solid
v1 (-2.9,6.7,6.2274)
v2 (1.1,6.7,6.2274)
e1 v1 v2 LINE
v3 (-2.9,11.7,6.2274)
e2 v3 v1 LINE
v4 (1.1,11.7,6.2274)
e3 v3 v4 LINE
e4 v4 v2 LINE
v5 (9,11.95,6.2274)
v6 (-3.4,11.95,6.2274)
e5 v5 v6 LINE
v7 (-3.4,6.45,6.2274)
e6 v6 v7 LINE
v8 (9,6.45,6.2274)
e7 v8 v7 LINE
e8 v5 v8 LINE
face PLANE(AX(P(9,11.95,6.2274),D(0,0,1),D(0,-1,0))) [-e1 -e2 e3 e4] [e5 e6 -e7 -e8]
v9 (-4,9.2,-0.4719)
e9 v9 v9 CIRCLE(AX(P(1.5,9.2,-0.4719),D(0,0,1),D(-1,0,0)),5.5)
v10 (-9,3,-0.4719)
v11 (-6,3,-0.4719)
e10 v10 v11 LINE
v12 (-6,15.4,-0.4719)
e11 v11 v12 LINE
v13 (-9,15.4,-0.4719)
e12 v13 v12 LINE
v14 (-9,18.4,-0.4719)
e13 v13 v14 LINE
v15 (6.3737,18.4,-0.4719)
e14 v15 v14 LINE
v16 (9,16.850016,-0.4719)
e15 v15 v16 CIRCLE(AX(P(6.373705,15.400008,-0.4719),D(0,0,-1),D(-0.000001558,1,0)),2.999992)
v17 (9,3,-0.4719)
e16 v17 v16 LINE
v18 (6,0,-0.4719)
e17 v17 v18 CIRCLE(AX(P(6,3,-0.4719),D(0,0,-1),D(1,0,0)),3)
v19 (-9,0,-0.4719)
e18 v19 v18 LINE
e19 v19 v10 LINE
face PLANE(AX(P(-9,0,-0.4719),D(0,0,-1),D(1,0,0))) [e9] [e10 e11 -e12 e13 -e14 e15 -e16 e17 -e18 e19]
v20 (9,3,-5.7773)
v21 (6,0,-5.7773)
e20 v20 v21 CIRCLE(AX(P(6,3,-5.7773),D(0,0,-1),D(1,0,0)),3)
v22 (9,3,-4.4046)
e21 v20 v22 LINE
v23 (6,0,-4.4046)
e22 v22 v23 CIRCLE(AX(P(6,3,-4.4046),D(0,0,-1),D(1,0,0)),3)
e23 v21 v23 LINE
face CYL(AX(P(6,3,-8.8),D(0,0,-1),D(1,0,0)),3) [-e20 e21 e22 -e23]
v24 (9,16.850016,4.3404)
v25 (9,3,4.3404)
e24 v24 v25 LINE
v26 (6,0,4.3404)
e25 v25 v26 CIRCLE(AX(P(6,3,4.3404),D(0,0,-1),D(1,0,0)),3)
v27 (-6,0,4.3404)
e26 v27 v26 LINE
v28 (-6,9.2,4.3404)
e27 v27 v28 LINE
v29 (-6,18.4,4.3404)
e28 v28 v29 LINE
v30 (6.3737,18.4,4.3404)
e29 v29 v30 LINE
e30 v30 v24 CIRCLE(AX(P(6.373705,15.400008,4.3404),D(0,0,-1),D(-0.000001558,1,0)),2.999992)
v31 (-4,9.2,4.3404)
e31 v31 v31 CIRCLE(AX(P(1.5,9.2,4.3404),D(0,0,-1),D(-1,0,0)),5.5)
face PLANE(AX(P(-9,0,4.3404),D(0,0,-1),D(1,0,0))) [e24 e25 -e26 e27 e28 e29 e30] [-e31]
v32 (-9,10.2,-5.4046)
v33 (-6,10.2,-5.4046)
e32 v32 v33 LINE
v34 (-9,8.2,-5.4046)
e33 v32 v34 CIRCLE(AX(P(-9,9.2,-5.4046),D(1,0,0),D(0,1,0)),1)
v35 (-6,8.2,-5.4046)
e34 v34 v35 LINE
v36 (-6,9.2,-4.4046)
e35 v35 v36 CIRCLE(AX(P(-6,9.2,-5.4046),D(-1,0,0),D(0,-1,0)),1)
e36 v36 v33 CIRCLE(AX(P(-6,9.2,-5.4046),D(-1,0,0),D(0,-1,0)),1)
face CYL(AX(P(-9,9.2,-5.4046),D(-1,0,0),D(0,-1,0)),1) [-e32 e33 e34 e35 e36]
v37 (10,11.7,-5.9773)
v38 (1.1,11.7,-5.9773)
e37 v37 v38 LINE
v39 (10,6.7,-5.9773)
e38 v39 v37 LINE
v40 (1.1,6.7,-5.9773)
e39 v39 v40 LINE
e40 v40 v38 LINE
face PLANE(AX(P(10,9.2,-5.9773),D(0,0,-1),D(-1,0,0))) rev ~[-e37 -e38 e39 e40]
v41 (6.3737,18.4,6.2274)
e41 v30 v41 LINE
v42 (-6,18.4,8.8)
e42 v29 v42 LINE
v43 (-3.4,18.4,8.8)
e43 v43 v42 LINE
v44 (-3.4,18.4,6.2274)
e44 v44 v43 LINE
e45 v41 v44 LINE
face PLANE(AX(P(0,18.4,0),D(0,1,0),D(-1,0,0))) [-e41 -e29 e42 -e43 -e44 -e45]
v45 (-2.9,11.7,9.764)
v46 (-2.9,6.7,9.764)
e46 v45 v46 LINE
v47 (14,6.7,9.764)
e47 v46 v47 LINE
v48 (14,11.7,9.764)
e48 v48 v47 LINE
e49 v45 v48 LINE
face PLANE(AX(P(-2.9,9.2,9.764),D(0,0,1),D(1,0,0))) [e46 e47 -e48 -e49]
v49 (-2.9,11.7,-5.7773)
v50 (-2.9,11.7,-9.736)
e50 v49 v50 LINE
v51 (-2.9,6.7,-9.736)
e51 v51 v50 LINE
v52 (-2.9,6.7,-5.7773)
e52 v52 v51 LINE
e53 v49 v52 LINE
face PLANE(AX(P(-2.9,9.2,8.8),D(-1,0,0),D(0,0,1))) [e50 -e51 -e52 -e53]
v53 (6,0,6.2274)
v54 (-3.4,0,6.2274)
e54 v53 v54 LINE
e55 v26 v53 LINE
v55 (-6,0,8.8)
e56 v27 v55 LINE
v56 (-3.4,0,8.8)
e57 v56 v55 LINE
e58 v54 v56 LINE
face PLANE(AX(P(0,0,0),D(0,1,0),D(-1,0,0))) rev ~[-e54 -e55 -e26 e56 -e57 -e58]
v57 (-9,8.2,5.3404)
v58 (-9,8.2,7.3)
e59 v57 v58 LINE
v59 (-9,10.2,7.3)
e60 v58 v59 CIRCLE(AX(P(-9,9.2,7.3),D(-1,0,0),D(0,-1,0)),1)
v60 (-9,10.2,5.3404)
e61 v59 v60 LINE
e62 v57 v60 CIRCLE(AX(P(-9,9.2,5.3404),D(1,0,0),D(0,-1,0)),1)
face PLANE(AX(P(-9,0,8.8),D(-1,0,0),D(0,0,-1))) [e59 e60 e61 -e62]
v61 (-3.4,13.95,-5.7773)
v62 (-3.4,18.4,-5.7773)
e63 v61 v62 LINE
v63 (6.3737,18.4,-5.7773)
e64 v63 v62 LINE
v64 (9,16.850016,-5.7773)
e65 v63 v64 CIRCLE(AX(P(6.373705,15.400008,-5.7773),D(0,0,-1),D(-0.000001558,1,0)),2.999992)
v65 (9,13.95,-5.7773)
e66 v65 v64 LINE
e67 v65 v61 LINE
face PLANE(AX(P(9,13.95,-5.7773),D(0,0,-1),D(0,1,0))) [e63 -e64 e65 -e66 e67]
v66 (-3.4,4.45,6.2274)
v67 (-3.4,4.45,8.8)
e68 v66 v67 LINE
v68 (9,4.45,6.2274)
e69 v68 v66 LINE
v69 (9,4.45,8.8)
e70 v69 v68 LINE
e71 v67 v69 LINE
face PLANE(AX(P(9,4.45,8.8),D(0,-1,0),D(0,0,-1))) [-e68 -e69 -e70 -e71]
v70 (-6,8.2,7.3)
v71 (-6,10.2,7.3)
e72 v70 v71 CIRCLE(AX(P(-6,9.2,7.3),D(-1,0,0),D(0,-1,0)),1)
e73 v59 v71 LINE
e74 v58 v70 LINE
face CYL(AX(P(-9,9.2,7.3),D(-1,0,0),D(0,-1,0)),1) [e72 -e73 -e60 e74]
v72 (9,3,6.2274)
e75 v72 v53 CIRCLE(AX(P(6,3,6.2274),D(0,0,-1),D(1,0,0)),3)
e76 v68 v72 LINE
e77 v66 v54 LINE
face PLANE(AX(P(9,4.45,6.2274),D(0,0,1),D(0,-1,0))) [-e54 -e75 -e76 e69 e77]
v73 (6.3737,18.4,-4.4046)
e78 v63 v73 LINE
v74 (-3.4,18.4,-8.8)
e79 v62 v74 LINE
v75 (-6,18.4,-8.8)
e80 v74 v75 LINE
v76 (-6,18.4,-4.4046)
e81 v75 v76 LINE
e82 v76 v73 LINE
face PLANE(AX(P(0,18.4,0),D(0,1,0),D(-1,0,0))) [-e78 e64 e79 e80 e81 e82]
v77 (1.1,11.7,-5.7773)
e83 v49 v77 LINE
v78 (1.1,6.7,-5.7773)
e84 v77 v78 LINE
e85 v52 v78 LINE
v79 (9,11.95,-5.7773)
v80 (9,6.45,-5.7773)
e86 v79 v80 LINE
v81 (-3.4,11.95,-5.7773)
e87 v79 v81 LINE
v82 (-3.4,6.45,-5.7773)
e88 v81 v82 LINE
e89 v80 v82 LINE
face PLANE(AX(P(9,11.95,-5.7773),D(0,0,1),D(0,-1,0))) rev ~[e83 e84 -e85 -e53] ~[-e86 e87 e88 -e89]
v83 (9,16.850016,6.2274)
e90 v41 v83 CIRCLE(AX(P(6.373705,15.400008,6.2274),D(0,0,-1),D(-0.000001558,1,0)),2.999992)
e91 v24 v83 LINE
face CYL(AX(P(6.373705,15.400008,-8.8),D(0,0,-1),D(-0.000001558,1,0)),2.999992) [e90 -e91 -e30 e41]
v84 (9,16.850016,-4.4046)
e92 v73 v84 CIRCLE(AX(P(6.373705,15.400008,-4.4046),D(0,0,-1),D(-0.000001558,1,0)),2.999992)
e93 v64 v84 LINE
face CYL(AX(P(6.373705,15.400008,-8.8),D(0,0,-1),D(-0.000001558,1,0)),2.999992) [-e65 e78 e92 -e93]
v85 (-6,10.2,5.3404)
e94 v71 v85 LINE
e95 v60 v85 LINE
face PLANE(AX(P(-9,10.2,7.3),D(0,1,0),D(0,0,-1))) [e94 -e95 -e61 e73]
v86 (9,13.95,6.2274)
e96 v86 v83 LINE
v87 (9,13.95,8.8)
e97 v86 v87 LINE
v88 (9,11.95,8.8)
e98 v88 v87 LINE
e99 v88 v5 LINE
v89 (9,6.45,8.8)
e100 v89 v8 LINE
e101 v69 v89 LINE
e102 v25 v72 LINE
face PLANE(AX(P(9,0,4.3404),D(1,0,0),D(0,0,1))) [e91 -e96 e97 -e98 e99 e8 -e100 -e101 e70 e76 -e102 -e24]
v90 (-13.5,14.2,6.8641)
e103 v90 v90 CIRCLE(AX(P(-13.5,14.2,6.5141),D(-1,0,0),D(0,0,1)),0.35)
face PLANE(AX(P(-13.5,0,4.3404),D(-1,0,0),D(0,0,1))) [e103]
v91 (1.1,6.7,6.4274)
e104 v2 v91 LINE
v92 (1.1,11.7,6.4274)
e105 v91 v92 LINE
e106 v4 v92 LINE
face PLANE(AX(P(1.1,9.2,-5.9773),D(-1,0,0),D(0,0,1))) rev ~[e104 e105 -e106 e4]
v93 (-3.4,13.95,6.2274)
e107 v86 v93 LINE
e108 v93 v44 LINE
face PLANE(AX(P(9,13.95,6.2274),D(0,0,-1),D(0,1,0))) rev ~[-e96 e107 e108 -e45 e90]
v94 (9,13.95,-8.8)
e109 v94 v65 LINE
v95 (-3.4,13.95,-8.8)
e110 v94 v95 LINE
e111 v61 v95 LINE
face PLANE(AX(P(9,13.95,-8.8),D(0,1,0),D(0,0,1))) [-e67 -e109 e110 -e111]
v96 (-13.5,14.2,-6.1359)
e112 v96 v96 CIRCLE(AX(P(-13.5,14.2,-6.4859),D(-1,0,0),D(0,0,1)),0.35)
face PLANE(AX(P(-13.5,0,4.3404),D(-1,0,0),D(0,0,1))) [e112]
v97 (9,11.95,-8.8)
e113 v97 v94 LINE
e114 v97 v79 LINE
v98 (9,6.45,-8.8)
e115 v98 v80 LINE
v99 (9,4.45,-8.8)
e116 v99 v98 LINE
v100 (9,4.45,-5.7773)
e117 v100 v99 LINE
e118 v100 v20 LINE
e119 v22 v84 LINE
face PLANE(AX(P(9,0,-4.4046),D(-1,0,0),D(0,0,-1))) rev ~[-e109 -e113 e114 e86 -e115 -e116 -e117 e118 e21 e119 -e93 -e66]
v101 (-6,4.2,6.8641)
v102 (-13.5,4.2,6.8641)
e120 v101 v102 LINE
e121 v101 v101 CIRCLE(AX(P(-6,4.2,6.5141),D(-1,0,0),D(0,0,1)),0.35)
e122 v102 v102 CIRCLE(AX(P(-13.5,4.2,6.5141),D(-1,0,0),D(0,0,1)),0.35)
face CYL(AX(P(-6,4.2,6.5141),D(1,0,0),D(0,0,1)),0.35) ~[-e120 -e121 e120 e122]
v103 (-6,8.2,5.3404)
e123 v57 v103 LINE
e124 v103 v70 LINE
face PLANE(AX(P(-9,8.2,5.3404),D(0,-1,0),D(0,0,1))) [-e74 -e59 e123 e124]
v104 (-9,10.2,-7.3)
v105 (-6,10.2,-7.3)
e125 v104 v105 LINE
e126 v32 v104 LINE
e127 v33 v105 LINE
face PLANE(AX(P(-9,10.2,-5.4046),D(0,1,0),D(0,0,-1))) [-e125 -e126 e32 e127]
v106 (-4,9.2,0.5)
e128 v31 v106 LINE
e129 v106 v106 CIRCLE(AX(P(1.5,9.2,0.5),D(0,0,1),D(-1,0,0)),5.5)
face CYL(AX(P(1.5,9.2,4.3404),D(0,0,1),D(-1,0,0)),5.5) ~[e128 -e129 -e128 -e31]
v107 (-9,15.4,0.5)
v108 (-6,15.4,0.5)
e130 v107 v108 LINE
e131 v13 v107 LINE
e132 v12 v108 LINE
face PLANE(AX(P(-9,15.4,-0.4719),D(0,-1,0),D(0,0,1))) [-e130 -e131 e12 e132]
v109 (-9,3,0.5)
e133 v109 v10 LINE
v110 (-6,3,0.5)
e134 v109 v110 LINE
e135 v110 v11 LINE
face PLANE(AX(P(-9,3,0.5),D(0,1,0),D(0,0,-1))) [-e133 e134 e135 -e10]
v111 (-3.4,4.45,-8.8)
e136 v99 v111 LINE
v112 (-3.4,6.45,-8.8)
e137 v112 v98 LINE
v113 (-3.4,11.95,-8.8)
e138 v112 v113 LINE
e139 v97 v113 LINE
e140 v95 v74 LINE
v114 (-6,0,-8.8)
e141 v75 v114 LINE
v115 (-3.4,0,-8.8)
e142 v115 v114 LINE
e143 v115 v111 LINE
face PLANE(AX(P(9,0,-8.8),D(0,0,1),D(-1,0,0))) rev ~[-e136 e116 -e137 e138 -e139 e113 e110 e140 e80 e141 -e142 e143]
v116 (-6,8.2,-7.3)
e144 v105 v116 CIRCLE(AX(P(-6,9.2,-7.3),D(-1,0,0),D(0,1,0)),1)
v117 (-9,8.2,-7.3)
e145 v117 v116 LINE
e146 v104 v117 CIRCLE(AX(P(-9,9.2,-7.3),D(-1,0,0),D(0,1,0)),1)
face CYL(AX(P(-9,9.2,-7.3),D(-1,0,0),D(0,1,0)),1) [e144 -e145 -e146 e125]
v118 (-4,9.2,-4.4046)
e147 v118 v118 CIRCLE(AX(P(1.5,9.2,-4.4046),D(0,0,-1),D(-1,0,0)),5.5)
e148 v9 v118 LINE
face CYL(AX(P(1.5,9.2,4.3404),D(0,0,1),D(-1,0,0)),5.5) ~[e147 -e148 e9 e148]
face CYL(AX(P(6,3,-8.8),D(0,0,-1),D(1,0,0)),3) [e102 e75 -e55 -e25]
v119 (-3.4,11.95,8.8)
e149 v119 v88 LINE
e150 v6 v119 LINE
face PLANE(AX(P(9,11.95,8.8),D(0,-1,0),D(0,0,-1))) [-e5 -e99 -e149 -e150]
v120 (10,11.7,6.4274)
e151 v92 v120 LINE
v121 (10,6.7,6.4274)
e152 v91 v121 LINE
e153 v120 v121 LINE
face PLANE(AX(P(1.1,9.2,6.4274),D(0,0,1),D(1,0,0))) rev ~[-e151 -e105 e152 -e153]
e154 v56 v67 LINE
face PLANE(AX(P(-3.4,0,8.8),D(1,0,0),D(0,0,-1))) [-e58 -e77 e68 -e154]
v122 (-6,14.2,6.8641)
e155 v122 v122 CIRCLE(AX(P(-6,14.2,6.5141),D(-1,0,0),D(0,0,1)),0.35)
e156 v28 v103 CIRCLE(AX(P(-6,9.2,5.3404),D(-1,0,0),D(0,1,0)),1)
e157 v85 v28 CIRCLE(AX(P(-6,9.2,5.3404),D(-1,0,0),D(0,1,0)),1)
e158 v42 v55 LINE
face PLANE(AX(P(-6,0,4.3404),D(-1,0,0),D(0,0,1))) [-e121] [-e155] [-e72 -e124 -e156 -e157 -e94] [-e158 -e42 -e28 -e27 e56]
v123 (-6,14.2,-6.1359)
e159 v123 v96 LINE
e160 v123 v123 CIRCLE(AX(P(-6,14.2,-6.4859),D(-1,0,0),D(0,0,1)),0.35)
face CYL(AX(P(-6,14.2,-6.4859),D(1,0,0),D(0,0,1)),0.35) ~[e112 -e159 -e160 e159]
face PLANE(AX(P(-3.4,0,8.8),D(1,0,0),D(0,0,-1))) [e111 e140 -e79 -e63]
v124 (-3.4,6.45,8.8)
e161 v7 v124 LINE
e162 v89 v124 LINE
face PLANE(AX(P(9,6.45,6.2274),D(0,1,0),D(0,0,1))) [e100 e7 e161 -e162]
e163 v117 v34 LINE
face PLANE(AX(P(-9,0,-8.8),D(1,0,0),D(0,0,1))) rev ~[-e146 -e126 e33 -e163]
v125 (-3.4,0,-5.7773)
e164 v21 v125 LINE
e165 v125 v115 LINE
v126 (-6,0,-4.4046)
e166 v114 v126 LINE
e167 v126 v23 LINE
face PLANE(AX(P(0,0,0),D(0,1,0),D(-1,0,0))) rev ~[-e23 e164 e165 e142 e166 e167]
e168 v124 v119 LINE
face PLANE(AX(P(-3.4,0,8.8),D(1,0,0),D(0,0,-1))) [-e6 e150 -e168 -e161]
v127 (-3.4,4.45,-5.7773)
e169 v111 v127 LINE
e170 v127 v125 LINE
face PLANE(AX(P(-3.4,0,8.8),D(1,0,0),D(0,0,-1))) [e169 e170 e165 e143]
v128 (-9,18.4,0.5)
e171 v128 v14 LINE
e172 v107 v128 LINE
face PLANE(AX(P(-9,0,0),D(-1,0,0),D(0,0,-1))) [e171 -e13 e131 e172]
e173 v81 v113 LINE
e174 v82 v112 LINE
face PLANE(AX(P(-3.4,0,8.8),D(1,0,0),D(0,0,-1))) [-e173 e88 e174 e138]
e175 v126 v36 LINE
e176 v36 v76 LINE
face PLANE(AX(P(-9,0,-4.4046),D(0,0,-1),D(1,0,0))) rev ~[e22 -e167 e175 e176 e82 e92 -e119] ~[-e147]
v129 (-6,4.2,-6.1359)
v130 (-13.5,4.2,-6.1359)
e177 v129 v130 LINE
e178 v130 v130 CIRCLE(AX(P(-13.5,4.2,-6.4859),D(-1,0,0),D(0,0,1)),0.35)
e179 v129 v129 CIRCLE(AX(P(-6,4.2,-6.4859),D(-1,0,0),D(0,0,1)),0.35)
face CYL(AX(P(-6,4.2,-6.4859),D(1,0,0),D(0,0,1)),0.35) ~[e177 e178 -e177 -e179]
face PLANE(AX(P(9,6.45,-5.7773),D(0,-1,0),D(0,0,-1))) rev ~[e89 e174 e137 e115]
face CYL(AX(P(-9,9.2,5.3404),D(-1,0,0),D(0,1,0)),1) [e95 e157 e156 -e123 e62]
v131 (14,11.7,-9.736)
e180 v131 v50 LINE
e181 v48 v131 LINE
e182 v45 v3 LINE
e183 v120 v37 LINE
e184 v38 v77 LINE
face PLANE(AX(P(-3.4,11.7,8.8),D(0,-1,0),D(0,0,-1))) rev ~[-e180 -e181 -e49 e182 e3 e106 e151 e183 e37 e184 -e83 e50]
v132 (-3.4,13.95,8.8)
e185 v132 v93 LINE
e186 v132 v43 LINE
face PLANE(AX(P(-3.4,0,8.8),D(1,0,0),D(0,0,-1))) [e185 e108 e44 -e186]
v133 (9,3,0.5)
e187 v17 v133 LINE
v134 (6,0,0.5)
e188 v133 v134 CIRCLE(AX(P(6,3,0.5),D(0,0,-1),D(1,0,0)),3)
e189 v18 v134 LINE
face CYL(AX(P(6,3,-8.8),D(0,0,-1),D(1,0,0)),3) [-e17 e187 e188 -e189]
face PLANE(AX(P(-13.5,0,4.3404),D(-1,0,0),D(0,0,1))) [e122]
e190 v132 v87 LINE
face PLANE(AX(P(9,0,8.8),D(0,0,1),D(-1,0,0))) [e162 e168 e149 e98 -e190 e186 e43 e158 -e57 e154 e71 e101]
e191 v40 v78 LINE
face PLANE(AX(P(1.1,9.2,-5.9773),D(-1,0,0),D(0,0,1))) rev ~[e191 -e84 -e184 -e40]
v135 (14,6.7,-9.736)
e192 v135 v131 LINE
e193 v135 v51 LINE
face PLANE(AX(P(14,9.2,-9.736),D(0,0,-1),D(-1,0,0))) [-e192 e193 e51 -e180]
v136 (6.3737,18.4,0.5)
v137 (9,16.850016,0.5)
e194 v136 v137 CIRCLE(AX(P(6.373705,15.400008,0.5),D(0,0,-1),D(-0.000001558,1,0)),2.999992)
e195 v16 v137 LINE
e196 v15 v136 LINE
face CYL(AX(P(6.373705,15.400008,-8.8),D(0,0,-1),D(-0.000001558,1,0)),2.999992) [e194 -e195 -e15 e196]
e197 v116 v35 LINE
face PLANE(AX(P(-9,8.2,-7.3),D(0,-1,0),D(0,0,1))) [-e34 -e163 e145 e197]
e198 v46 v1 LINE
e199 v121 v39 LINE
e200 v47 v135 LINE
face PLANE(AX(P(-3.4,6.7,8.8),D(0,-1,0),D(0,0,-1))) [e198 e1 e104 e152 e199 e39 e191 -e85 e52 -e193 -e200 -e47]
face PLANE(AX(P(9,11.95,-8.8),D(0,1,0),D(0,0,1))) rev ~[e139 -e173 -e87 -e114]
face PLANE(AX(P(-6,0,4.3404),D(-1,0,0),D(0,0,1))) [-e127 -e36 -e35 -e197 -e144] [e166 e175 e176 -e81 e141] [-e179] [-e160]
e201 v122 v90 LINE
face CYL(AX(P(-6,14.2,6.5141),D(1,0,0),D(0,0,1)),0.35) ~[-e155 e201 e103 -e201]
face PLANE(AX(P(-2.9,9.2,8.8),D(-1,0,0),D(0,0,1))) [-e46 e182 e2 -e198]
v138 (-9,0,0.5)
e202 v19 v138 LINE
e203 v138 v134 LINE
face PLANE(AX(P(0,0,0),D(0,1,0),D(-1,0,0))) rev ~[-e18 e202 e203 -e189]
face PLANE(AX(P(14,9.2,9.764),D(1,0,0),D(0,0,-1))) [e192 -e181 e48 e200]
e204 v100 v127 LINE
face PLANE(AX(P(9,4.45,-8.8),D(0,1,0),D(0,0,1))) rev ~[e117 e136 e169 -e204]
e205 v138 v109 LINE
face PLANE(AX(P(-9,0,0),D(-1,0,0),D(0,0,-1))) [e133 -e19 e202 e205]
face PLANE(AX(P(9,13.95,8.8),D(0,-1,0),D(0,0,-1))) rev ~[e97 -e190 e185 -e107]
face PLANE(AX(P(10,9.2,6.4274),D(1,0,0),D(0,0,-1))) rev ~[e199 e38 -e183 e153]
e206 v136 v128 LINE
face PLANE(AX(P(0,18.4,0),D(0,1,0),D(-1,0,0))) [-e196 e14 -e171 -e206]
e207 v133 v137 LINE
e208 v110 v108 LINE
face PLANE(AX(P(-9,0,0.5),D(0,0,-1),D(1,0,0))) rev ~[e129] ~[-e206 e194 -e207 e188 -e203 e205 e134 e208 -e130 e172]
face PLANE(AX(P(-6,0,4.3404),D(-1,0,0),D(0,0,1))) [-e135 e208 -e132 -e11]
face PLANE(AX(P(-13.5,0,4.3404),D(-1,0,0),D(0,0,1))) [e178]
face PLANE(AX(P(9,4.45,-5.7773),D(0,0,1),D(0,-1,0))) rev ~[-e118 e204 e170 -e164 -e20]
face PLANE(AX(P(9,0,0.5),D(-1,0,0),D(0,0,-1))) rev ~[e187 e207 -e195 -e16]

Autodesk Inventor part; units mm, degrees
ref_plane "YZ Plane" through (0, 0, 0) normal (1, 0, 0) x (0, 1, 0)
ref_plane "XZ Plane" through (0, 0, 0) normal (0, 1, 0) x (-1, 0, 0)
ref_plane "XY Plane" through (0, 0, 0) normal (0, 0, 1) x (1, 0, 0)
sketch "Эскиз1" plane through (0, 0, 0) normal (0, 1, 0) x (-1, 0, 0)
  line L0 (9, 8.8) -> (9, -8.8) construction
  line L1 (-9, -8.8) -> (-9, 8.8) construction
  line L2 (-9, 8.8) -> (9, -8.8) construction
  line L3 (9, 8.8) -> (-9, -8.8) construction
  line L4 (9, 0) -> (9, 0.5)
  line L5 (9, 0.5) -> (-9, 0.5)
  line L6 (9, 0) -> (9, -0.4719)
  line L7 (9, -0.4719) -> (-9, -0.4719)
  line L8 (-9, 0.5) -> (-9, -0.4719)
  line L9 (9, 0) -> (9, 4.3404) construction
  line L10 (9, 0) -> (9, -4.4046) construction
  line L11 (9, 4.3404) -> (-9, 4.3404)
  line L12 (-9, 4.3404) -> (-9, 8.8)
  line L13 (-9, 8.8) -> (9, 8.8)
  line L14 (9, 8.8) -> (9, 4.3404)
  line L15 (9, -4.4046) -> (-9, -4.4046)
  line L16 (-9, -4.4046) -> (-9, -8.8)
  line L17 (-9, -8.8) -> (9, -8.8)
  line L18 (9, -8.8) -> (9, -4.4046)
  point P0 (0, 0)
  dimension "d0" = 18
  dimension "d1" = 17.6
  dimension "d2" = 0.5
extrude "Выдавливание1" add sketch "Эскиз1" along normal blind 18.4
sketch "Эскиз4" plane through (9, 0, 8.8) normal (1, 0, 0) x (0, 0, -1)
  line L0 (13.2046, 0) -> (17.6, 0) projected
  line L1 (14.5773, 0) -> (21.0298, 0)
  line L2 (21.0298, 0) -> (21.0298, 4.45)
  line L3 (21.0298, 4.45) -> (14.5773, 4.45)
  line L4 (14.5773, 4.45) -> (14.5773, 0)
  line L5 (14.5773, 18.4) -> (21.6, 18.4)
  line L6 (21.6, 18.4) -> (21.6, 13.95)
  line L7 (21.6, 13.95) -> (14.5773, 13.95)
  line L8 (14.5773, 13.95) -> (14.5773, 18.4)
  line L9 (4.4596, 18.4) -> (0, 18.4) projected
  line L10 (2.5726, 18.4) -> (-5.1704, 18.4)
  line L11 (-5.1704, 18.4) -> (-5.1704, 13.95)
  line L12 (-5.1704, 13.95) -> (2.5726, 13.95)
  line L13 (2.5726, 13.95) -> (2.5726, 18.4)
  line L14 (4.4596, 0) -> (0, 0) projected
  line L15 (2.5726, 0) -> (-6.491, 0)
  line L16 (-6.491, 0) -> (-6.491, 4.45)
  line L17 (-6.491, 4.45) -> (2.5726, 4.45)
  line L18 (2.5726, 4.45) -> (2.5726, 0)
  line L19 (20.6227, 11.95) -> (14.5773, 11.95)
  line L20 (14.5773, 11.95) -> (14.5773, 6.45)
  line L21 (14.5773, 6.45) -> (20.6227, 6.45)
  line L22 (20.6227, 6.45) -> (20.6227, 11.95)
  line L23 (17.6, 0) -> (17.6, 18.4) projected
  line L24 (20.6227, 11.95) -> (14.5773, 6.45) construction
  line L25 (14.5773, 11.95) -> (20.6227, 6.45) construction
  line L26 (-2.5726, 11.95) -> (2.5726, 11.95)
  line L27 (2.5726, 11.95) -> (2.5726, 6.45)
  line L28 (2.5726, 6.45) -> (-2.5726, 6.45)
  line L29 (-2.5726, 6.45) -> (-2.5726, 11.95)
  line L30 (0, 0) -> (0, 18.4) projected
  line L31 (-2.5726, 11.95) -> (2.5726, 6.45) construction
  line L32 (2.5726, 11.95) -> (-2.5726, 6.45) construction
  point P0 (8.8, 0)
  point P1 (17.6, 9.2)
  point P2 (0, 9.2)
  dimension "d12" = 5.5
  dimension "d41" = 2
  dimension "d42" = 2
  dimension "d43" = 2
extrude "Выдавливание2" cut sketch "Эскиз4" against normal blind 12.4
sketch "Эскиз6" plane through (9, 0, 4.3404) normal (0, 0, -1) x (-1, 0, 0)
  line L0 (9, 0) -> (9, 18.4) construction
  line L1 (18, 18.4) -> (0, 18.4) projected
  line L2 (9, 9.2) -> (7.5, 9.2) construction
  circle A0 centre (7.5, 9.2) radius 5.5
  dimension "d16" = 1.5
  dimension "d53" = 11
sketch "Эскиз7" plane through (-9, 0, -8.8) normal (0, 0, -1) x (-1, 0, 0)
  line L0 (-18, 13.95) -> (-5.6, 13.95) projected
  line L1 (-18, 0) -> (-18, 18.4) construction
  line L2 (-21, -3) -> (-15, -3) construction
  line L3 (-15, -3) -> (-15, 3) construction
  line L4 (-15, 3) -> (-21, 3) construction
  line L5 (-21, 3) -> (-21, -3) construction
  line L6 (-21, -3) -> (-15, 3) construction
  line L7 (-15, -3) -> (-21, 3) construction
  line L8 (-21.3737, 21.4) -> (-15.3737, 21.4) construction
  line L9 (-15.3737, 21.4) -> (-15.3737, 15.4) construction
  line L10 (-15.3737, 15.4) -> (-21.3737, 15.4) construction
  line L11 (-21.3737, 15.4) -> (-21.3737, 21.4) construction
  line L12 (-21.3737, 21.4) -> (-15.3737, 15.4) construction
  line L13 (-15.3737, 21.4) -> (-21.3737, 15.4) construction
  arc A0 (-18, 3) -> (-15, 0) centre (-15, 3) ccw
  arc A1 (-15.3737, 18.4) -> (-18, 13.95) centre (-15.3737, 15.4) ccw
  line L14 (-18, 3) -> (-18, 0)
  line L15 (-15, 0) -> (-18, 0)
  line L16 (-15.3737, 18.4) -> (-18, 18.4)
  line L17 (-18, 13.95) -> (-18, 18.4)
  point P0 (-9, 0)
  dimension "d21" = 6
  dimension "d22" = 6
extrude "Выдавливание3" add sketch "Эскиз6" along normal up to surface (8.745 mm away)
extrude "Выдавливание4" cut sketch "Эскиз7" against normal blind 23
ref_plane "РабПлоскость1" through (-3.4, 9.2, 8.8) normal (0, -1, 0) x (0, 0, -1)
sketch "Эскиз9" plane through (-3.4, 9.2, 8.8) normal (0, -1, 0) x (0, 0, -1)
  line L0 (-0.964, 17.4) -> (18.536, 17.4)
  line L1 (18.536, 17.4) -> (18.536, 0.5)
  line L2 (18.536, 0.5) -> (-0.964, 0.5)
  line L3 (-0.964, 0.5) -> (-0.964, 17.4)
  line L4 (2.3726, 13.4) -> (14.7773, 13.4)
  line L5 (14.7773, 13.4) -> (14.7773, 4.5)
  line L6 (14.7773, 4.5) -> (2.3726, 4.5)
  line L7 (2.3726, 4.5) -> (2.3726, 13.4)
  line L8 (8.786, 13.2041) -> (8.786, 18.9436) construction
  line L9 (0, 0) -> (0, 12.4) projected
  line L10 (17.6, -5.6) -> (13.2046, -5.6) projected
  point P0 (8.8, 3.4)
  point P1 (17.6, 0)
  point P2 (2.5726, 12.4)
  point P3 (14.5773, 12.4)
  dimension "d30" = 8.786
  dimension "d31" = 9.75
  dimension "d32" = 9.75
  dimension "d33" = 23
  dimension "d34" = 0.5
  dimension "d35" = 0.2
  dimension "d36" = 0.2
  dimension "d37" = 4
  dimension "d38" = 4
extrude "Выдавливание5" add sketch "Эскиз9" along normal mid plane 5
sketch "Эскиз10" plane through (-9, 0, 4.3404) normal (-1, 0, 0) x (0, 0, 1)
  line L0 (4.4596, 6.45) -> (4.4596, 11.95) projected
  line L1 (4.4596, 9.2) -> (-13.9375, 9.2) construction
  line L2 (-14.0763, 6.7) -> (-14.0763, 11.7) projected
  line L3 (1, 9.2) -> (2.9596, 9.2) construction
  line L4 (1, 8.2) -> (2.9596, 8.2)
  line L5 (2.9596, 10.2) -> (1, 10.2)
  arc A0 (1, 10.2) -> (1, 8.2) centre (1, 9.2) ccw
  arc A1 (2.9596, 8.2) -> (2.9596, 10.2) centre (2.9596, 9.2) ccw
  line L6 (0, 0) -> (0, 18.4) projected
  line L7 (4.4596, 0) -> (4.4596, 18.4) projected
  line L8 (-9.745, 9.2) -> (-11.6404, 9.2) construction
  line L9 (-9.745, 10.2) -> (-11.6404, 10.2)
  line L10 (-11.6404, 8.2) -> (-9.745, 8.2)
  arc A2 (-9.745, 8.2) -> (-9.745, 10.2) centre (-9.745, 9.2) ccw
  arc A3 (-11.6404, 10.2) -> (-11.6404, 8.2) centre (-11.6404, 9.2) ccw
  line L11 (-8.745, 0) -> (-8.745, 18.4) projected
  line L12 (-13.1404, 0) -> (-13.1404, 18.4) projected
  line L13 (-4.8123, 0) -> (-4.8123, 18.4) projected
  line L14 (-3.8404, 0) -> (-3.8404, 3) projected
  line L15 (-4.8123, 0) -> (-3.8404, 0)
  line L16 (-3.8404, 0) -> (-3.8404, 3)
  line L17 (-3.8404, 3) -> (-4.8123, 3)
  line L18 (-4.8123, 3) -> (-4.8123, 0)
  line L19 (-4.8123, 3) -> (-4.8123, 16.85) projected
  line L20 (-3.8404, 18.4) -> (-4.8123, 18.4)
  line L21 (-4.8123, 18.4) -> (-4.8123, 15.4)
  line L22 (-4.8123, 15.4) -> (-3.8404, 15.4)
  line L23 (-3.8404, 15.4) -> (-3.8404, 18.4)
  line L24 (8.1135, -3.7823) -> (-17.89, -3.7823)
  line L25 (-17.89, -3.7823) -> (-17.89, 22.1054)
  line L26 (-17.89, 22.1054) -> (8.1135, 22.1054)
  line L27 (8.1135, 22.1054) -> (8.1135, -3.7823)
  point P0 (-4.3404, 0)
  point P1 (1.9798, 9.2)
  point P2 (-10.6927, 9.2)
  point P3 (-4.8123, 3)
  dimension "d44" = 2
  dimension "d45" = 1
  dimension "d46" = 1.5
  dimension "d47" = 1
  dimension "d48" = 1.5
  dimension "d49" = 3
  dimension "d50" = 3
extrude "Выдавливание6" cut sketch "Эскиз10" against normal blind 3
sketch "Эскиз11" plane through (-6, 0, 4.3404) normal (-1, 0, 0) x (0, 0, 1)
  line L0 (-4.3263, -2.8057) -> (-4.3263, 20.2349) construction
  line L1 (5.7896, 9.2) -> (-19.3839, 9.2) construction
  line L2 (2.1737, 14.2) -> (-10.8263, 14.2) construction
  line L3 (-10.8263, 14.2) -> (-10.8263, 4.2) construction
  line L4 (-10.8263, 4.2) -> (2.1737, 4.2) construction
  line L5 (2.1737, 4.2) -> (2.1737, 14.2) construction
  line L6 (2.1737, 14.2) -> (-10.8263, 4.2) construction
  line L7 (-10.8263, 14.2) -> (2.1737, 4.2) construction
  circle A0 centre (2.1737, 4.2) radius 0.35
  circle A1 centre (-10.8263, 4.2) radius 0.35
  circle A2 centre (-10.8263, 14.2) radius 0.35
  circle A3 centre (2.1737, 14.2) radius 0.35
  point P0 (-4.3404, 0)
  point P1 (-4.3263, 9.2)
  dimension "d54" = 13
  dimension "d55" = 10
  dimension "d56" = 0.7
  dimension "d57" = 0.7
  dimension "d58" = 0.7
  dimension "d59" = 0.7
extrude "Выдавливание7" add sketch "Эскиз11" along normal blind 7.5
properties part number "UU10.5"
